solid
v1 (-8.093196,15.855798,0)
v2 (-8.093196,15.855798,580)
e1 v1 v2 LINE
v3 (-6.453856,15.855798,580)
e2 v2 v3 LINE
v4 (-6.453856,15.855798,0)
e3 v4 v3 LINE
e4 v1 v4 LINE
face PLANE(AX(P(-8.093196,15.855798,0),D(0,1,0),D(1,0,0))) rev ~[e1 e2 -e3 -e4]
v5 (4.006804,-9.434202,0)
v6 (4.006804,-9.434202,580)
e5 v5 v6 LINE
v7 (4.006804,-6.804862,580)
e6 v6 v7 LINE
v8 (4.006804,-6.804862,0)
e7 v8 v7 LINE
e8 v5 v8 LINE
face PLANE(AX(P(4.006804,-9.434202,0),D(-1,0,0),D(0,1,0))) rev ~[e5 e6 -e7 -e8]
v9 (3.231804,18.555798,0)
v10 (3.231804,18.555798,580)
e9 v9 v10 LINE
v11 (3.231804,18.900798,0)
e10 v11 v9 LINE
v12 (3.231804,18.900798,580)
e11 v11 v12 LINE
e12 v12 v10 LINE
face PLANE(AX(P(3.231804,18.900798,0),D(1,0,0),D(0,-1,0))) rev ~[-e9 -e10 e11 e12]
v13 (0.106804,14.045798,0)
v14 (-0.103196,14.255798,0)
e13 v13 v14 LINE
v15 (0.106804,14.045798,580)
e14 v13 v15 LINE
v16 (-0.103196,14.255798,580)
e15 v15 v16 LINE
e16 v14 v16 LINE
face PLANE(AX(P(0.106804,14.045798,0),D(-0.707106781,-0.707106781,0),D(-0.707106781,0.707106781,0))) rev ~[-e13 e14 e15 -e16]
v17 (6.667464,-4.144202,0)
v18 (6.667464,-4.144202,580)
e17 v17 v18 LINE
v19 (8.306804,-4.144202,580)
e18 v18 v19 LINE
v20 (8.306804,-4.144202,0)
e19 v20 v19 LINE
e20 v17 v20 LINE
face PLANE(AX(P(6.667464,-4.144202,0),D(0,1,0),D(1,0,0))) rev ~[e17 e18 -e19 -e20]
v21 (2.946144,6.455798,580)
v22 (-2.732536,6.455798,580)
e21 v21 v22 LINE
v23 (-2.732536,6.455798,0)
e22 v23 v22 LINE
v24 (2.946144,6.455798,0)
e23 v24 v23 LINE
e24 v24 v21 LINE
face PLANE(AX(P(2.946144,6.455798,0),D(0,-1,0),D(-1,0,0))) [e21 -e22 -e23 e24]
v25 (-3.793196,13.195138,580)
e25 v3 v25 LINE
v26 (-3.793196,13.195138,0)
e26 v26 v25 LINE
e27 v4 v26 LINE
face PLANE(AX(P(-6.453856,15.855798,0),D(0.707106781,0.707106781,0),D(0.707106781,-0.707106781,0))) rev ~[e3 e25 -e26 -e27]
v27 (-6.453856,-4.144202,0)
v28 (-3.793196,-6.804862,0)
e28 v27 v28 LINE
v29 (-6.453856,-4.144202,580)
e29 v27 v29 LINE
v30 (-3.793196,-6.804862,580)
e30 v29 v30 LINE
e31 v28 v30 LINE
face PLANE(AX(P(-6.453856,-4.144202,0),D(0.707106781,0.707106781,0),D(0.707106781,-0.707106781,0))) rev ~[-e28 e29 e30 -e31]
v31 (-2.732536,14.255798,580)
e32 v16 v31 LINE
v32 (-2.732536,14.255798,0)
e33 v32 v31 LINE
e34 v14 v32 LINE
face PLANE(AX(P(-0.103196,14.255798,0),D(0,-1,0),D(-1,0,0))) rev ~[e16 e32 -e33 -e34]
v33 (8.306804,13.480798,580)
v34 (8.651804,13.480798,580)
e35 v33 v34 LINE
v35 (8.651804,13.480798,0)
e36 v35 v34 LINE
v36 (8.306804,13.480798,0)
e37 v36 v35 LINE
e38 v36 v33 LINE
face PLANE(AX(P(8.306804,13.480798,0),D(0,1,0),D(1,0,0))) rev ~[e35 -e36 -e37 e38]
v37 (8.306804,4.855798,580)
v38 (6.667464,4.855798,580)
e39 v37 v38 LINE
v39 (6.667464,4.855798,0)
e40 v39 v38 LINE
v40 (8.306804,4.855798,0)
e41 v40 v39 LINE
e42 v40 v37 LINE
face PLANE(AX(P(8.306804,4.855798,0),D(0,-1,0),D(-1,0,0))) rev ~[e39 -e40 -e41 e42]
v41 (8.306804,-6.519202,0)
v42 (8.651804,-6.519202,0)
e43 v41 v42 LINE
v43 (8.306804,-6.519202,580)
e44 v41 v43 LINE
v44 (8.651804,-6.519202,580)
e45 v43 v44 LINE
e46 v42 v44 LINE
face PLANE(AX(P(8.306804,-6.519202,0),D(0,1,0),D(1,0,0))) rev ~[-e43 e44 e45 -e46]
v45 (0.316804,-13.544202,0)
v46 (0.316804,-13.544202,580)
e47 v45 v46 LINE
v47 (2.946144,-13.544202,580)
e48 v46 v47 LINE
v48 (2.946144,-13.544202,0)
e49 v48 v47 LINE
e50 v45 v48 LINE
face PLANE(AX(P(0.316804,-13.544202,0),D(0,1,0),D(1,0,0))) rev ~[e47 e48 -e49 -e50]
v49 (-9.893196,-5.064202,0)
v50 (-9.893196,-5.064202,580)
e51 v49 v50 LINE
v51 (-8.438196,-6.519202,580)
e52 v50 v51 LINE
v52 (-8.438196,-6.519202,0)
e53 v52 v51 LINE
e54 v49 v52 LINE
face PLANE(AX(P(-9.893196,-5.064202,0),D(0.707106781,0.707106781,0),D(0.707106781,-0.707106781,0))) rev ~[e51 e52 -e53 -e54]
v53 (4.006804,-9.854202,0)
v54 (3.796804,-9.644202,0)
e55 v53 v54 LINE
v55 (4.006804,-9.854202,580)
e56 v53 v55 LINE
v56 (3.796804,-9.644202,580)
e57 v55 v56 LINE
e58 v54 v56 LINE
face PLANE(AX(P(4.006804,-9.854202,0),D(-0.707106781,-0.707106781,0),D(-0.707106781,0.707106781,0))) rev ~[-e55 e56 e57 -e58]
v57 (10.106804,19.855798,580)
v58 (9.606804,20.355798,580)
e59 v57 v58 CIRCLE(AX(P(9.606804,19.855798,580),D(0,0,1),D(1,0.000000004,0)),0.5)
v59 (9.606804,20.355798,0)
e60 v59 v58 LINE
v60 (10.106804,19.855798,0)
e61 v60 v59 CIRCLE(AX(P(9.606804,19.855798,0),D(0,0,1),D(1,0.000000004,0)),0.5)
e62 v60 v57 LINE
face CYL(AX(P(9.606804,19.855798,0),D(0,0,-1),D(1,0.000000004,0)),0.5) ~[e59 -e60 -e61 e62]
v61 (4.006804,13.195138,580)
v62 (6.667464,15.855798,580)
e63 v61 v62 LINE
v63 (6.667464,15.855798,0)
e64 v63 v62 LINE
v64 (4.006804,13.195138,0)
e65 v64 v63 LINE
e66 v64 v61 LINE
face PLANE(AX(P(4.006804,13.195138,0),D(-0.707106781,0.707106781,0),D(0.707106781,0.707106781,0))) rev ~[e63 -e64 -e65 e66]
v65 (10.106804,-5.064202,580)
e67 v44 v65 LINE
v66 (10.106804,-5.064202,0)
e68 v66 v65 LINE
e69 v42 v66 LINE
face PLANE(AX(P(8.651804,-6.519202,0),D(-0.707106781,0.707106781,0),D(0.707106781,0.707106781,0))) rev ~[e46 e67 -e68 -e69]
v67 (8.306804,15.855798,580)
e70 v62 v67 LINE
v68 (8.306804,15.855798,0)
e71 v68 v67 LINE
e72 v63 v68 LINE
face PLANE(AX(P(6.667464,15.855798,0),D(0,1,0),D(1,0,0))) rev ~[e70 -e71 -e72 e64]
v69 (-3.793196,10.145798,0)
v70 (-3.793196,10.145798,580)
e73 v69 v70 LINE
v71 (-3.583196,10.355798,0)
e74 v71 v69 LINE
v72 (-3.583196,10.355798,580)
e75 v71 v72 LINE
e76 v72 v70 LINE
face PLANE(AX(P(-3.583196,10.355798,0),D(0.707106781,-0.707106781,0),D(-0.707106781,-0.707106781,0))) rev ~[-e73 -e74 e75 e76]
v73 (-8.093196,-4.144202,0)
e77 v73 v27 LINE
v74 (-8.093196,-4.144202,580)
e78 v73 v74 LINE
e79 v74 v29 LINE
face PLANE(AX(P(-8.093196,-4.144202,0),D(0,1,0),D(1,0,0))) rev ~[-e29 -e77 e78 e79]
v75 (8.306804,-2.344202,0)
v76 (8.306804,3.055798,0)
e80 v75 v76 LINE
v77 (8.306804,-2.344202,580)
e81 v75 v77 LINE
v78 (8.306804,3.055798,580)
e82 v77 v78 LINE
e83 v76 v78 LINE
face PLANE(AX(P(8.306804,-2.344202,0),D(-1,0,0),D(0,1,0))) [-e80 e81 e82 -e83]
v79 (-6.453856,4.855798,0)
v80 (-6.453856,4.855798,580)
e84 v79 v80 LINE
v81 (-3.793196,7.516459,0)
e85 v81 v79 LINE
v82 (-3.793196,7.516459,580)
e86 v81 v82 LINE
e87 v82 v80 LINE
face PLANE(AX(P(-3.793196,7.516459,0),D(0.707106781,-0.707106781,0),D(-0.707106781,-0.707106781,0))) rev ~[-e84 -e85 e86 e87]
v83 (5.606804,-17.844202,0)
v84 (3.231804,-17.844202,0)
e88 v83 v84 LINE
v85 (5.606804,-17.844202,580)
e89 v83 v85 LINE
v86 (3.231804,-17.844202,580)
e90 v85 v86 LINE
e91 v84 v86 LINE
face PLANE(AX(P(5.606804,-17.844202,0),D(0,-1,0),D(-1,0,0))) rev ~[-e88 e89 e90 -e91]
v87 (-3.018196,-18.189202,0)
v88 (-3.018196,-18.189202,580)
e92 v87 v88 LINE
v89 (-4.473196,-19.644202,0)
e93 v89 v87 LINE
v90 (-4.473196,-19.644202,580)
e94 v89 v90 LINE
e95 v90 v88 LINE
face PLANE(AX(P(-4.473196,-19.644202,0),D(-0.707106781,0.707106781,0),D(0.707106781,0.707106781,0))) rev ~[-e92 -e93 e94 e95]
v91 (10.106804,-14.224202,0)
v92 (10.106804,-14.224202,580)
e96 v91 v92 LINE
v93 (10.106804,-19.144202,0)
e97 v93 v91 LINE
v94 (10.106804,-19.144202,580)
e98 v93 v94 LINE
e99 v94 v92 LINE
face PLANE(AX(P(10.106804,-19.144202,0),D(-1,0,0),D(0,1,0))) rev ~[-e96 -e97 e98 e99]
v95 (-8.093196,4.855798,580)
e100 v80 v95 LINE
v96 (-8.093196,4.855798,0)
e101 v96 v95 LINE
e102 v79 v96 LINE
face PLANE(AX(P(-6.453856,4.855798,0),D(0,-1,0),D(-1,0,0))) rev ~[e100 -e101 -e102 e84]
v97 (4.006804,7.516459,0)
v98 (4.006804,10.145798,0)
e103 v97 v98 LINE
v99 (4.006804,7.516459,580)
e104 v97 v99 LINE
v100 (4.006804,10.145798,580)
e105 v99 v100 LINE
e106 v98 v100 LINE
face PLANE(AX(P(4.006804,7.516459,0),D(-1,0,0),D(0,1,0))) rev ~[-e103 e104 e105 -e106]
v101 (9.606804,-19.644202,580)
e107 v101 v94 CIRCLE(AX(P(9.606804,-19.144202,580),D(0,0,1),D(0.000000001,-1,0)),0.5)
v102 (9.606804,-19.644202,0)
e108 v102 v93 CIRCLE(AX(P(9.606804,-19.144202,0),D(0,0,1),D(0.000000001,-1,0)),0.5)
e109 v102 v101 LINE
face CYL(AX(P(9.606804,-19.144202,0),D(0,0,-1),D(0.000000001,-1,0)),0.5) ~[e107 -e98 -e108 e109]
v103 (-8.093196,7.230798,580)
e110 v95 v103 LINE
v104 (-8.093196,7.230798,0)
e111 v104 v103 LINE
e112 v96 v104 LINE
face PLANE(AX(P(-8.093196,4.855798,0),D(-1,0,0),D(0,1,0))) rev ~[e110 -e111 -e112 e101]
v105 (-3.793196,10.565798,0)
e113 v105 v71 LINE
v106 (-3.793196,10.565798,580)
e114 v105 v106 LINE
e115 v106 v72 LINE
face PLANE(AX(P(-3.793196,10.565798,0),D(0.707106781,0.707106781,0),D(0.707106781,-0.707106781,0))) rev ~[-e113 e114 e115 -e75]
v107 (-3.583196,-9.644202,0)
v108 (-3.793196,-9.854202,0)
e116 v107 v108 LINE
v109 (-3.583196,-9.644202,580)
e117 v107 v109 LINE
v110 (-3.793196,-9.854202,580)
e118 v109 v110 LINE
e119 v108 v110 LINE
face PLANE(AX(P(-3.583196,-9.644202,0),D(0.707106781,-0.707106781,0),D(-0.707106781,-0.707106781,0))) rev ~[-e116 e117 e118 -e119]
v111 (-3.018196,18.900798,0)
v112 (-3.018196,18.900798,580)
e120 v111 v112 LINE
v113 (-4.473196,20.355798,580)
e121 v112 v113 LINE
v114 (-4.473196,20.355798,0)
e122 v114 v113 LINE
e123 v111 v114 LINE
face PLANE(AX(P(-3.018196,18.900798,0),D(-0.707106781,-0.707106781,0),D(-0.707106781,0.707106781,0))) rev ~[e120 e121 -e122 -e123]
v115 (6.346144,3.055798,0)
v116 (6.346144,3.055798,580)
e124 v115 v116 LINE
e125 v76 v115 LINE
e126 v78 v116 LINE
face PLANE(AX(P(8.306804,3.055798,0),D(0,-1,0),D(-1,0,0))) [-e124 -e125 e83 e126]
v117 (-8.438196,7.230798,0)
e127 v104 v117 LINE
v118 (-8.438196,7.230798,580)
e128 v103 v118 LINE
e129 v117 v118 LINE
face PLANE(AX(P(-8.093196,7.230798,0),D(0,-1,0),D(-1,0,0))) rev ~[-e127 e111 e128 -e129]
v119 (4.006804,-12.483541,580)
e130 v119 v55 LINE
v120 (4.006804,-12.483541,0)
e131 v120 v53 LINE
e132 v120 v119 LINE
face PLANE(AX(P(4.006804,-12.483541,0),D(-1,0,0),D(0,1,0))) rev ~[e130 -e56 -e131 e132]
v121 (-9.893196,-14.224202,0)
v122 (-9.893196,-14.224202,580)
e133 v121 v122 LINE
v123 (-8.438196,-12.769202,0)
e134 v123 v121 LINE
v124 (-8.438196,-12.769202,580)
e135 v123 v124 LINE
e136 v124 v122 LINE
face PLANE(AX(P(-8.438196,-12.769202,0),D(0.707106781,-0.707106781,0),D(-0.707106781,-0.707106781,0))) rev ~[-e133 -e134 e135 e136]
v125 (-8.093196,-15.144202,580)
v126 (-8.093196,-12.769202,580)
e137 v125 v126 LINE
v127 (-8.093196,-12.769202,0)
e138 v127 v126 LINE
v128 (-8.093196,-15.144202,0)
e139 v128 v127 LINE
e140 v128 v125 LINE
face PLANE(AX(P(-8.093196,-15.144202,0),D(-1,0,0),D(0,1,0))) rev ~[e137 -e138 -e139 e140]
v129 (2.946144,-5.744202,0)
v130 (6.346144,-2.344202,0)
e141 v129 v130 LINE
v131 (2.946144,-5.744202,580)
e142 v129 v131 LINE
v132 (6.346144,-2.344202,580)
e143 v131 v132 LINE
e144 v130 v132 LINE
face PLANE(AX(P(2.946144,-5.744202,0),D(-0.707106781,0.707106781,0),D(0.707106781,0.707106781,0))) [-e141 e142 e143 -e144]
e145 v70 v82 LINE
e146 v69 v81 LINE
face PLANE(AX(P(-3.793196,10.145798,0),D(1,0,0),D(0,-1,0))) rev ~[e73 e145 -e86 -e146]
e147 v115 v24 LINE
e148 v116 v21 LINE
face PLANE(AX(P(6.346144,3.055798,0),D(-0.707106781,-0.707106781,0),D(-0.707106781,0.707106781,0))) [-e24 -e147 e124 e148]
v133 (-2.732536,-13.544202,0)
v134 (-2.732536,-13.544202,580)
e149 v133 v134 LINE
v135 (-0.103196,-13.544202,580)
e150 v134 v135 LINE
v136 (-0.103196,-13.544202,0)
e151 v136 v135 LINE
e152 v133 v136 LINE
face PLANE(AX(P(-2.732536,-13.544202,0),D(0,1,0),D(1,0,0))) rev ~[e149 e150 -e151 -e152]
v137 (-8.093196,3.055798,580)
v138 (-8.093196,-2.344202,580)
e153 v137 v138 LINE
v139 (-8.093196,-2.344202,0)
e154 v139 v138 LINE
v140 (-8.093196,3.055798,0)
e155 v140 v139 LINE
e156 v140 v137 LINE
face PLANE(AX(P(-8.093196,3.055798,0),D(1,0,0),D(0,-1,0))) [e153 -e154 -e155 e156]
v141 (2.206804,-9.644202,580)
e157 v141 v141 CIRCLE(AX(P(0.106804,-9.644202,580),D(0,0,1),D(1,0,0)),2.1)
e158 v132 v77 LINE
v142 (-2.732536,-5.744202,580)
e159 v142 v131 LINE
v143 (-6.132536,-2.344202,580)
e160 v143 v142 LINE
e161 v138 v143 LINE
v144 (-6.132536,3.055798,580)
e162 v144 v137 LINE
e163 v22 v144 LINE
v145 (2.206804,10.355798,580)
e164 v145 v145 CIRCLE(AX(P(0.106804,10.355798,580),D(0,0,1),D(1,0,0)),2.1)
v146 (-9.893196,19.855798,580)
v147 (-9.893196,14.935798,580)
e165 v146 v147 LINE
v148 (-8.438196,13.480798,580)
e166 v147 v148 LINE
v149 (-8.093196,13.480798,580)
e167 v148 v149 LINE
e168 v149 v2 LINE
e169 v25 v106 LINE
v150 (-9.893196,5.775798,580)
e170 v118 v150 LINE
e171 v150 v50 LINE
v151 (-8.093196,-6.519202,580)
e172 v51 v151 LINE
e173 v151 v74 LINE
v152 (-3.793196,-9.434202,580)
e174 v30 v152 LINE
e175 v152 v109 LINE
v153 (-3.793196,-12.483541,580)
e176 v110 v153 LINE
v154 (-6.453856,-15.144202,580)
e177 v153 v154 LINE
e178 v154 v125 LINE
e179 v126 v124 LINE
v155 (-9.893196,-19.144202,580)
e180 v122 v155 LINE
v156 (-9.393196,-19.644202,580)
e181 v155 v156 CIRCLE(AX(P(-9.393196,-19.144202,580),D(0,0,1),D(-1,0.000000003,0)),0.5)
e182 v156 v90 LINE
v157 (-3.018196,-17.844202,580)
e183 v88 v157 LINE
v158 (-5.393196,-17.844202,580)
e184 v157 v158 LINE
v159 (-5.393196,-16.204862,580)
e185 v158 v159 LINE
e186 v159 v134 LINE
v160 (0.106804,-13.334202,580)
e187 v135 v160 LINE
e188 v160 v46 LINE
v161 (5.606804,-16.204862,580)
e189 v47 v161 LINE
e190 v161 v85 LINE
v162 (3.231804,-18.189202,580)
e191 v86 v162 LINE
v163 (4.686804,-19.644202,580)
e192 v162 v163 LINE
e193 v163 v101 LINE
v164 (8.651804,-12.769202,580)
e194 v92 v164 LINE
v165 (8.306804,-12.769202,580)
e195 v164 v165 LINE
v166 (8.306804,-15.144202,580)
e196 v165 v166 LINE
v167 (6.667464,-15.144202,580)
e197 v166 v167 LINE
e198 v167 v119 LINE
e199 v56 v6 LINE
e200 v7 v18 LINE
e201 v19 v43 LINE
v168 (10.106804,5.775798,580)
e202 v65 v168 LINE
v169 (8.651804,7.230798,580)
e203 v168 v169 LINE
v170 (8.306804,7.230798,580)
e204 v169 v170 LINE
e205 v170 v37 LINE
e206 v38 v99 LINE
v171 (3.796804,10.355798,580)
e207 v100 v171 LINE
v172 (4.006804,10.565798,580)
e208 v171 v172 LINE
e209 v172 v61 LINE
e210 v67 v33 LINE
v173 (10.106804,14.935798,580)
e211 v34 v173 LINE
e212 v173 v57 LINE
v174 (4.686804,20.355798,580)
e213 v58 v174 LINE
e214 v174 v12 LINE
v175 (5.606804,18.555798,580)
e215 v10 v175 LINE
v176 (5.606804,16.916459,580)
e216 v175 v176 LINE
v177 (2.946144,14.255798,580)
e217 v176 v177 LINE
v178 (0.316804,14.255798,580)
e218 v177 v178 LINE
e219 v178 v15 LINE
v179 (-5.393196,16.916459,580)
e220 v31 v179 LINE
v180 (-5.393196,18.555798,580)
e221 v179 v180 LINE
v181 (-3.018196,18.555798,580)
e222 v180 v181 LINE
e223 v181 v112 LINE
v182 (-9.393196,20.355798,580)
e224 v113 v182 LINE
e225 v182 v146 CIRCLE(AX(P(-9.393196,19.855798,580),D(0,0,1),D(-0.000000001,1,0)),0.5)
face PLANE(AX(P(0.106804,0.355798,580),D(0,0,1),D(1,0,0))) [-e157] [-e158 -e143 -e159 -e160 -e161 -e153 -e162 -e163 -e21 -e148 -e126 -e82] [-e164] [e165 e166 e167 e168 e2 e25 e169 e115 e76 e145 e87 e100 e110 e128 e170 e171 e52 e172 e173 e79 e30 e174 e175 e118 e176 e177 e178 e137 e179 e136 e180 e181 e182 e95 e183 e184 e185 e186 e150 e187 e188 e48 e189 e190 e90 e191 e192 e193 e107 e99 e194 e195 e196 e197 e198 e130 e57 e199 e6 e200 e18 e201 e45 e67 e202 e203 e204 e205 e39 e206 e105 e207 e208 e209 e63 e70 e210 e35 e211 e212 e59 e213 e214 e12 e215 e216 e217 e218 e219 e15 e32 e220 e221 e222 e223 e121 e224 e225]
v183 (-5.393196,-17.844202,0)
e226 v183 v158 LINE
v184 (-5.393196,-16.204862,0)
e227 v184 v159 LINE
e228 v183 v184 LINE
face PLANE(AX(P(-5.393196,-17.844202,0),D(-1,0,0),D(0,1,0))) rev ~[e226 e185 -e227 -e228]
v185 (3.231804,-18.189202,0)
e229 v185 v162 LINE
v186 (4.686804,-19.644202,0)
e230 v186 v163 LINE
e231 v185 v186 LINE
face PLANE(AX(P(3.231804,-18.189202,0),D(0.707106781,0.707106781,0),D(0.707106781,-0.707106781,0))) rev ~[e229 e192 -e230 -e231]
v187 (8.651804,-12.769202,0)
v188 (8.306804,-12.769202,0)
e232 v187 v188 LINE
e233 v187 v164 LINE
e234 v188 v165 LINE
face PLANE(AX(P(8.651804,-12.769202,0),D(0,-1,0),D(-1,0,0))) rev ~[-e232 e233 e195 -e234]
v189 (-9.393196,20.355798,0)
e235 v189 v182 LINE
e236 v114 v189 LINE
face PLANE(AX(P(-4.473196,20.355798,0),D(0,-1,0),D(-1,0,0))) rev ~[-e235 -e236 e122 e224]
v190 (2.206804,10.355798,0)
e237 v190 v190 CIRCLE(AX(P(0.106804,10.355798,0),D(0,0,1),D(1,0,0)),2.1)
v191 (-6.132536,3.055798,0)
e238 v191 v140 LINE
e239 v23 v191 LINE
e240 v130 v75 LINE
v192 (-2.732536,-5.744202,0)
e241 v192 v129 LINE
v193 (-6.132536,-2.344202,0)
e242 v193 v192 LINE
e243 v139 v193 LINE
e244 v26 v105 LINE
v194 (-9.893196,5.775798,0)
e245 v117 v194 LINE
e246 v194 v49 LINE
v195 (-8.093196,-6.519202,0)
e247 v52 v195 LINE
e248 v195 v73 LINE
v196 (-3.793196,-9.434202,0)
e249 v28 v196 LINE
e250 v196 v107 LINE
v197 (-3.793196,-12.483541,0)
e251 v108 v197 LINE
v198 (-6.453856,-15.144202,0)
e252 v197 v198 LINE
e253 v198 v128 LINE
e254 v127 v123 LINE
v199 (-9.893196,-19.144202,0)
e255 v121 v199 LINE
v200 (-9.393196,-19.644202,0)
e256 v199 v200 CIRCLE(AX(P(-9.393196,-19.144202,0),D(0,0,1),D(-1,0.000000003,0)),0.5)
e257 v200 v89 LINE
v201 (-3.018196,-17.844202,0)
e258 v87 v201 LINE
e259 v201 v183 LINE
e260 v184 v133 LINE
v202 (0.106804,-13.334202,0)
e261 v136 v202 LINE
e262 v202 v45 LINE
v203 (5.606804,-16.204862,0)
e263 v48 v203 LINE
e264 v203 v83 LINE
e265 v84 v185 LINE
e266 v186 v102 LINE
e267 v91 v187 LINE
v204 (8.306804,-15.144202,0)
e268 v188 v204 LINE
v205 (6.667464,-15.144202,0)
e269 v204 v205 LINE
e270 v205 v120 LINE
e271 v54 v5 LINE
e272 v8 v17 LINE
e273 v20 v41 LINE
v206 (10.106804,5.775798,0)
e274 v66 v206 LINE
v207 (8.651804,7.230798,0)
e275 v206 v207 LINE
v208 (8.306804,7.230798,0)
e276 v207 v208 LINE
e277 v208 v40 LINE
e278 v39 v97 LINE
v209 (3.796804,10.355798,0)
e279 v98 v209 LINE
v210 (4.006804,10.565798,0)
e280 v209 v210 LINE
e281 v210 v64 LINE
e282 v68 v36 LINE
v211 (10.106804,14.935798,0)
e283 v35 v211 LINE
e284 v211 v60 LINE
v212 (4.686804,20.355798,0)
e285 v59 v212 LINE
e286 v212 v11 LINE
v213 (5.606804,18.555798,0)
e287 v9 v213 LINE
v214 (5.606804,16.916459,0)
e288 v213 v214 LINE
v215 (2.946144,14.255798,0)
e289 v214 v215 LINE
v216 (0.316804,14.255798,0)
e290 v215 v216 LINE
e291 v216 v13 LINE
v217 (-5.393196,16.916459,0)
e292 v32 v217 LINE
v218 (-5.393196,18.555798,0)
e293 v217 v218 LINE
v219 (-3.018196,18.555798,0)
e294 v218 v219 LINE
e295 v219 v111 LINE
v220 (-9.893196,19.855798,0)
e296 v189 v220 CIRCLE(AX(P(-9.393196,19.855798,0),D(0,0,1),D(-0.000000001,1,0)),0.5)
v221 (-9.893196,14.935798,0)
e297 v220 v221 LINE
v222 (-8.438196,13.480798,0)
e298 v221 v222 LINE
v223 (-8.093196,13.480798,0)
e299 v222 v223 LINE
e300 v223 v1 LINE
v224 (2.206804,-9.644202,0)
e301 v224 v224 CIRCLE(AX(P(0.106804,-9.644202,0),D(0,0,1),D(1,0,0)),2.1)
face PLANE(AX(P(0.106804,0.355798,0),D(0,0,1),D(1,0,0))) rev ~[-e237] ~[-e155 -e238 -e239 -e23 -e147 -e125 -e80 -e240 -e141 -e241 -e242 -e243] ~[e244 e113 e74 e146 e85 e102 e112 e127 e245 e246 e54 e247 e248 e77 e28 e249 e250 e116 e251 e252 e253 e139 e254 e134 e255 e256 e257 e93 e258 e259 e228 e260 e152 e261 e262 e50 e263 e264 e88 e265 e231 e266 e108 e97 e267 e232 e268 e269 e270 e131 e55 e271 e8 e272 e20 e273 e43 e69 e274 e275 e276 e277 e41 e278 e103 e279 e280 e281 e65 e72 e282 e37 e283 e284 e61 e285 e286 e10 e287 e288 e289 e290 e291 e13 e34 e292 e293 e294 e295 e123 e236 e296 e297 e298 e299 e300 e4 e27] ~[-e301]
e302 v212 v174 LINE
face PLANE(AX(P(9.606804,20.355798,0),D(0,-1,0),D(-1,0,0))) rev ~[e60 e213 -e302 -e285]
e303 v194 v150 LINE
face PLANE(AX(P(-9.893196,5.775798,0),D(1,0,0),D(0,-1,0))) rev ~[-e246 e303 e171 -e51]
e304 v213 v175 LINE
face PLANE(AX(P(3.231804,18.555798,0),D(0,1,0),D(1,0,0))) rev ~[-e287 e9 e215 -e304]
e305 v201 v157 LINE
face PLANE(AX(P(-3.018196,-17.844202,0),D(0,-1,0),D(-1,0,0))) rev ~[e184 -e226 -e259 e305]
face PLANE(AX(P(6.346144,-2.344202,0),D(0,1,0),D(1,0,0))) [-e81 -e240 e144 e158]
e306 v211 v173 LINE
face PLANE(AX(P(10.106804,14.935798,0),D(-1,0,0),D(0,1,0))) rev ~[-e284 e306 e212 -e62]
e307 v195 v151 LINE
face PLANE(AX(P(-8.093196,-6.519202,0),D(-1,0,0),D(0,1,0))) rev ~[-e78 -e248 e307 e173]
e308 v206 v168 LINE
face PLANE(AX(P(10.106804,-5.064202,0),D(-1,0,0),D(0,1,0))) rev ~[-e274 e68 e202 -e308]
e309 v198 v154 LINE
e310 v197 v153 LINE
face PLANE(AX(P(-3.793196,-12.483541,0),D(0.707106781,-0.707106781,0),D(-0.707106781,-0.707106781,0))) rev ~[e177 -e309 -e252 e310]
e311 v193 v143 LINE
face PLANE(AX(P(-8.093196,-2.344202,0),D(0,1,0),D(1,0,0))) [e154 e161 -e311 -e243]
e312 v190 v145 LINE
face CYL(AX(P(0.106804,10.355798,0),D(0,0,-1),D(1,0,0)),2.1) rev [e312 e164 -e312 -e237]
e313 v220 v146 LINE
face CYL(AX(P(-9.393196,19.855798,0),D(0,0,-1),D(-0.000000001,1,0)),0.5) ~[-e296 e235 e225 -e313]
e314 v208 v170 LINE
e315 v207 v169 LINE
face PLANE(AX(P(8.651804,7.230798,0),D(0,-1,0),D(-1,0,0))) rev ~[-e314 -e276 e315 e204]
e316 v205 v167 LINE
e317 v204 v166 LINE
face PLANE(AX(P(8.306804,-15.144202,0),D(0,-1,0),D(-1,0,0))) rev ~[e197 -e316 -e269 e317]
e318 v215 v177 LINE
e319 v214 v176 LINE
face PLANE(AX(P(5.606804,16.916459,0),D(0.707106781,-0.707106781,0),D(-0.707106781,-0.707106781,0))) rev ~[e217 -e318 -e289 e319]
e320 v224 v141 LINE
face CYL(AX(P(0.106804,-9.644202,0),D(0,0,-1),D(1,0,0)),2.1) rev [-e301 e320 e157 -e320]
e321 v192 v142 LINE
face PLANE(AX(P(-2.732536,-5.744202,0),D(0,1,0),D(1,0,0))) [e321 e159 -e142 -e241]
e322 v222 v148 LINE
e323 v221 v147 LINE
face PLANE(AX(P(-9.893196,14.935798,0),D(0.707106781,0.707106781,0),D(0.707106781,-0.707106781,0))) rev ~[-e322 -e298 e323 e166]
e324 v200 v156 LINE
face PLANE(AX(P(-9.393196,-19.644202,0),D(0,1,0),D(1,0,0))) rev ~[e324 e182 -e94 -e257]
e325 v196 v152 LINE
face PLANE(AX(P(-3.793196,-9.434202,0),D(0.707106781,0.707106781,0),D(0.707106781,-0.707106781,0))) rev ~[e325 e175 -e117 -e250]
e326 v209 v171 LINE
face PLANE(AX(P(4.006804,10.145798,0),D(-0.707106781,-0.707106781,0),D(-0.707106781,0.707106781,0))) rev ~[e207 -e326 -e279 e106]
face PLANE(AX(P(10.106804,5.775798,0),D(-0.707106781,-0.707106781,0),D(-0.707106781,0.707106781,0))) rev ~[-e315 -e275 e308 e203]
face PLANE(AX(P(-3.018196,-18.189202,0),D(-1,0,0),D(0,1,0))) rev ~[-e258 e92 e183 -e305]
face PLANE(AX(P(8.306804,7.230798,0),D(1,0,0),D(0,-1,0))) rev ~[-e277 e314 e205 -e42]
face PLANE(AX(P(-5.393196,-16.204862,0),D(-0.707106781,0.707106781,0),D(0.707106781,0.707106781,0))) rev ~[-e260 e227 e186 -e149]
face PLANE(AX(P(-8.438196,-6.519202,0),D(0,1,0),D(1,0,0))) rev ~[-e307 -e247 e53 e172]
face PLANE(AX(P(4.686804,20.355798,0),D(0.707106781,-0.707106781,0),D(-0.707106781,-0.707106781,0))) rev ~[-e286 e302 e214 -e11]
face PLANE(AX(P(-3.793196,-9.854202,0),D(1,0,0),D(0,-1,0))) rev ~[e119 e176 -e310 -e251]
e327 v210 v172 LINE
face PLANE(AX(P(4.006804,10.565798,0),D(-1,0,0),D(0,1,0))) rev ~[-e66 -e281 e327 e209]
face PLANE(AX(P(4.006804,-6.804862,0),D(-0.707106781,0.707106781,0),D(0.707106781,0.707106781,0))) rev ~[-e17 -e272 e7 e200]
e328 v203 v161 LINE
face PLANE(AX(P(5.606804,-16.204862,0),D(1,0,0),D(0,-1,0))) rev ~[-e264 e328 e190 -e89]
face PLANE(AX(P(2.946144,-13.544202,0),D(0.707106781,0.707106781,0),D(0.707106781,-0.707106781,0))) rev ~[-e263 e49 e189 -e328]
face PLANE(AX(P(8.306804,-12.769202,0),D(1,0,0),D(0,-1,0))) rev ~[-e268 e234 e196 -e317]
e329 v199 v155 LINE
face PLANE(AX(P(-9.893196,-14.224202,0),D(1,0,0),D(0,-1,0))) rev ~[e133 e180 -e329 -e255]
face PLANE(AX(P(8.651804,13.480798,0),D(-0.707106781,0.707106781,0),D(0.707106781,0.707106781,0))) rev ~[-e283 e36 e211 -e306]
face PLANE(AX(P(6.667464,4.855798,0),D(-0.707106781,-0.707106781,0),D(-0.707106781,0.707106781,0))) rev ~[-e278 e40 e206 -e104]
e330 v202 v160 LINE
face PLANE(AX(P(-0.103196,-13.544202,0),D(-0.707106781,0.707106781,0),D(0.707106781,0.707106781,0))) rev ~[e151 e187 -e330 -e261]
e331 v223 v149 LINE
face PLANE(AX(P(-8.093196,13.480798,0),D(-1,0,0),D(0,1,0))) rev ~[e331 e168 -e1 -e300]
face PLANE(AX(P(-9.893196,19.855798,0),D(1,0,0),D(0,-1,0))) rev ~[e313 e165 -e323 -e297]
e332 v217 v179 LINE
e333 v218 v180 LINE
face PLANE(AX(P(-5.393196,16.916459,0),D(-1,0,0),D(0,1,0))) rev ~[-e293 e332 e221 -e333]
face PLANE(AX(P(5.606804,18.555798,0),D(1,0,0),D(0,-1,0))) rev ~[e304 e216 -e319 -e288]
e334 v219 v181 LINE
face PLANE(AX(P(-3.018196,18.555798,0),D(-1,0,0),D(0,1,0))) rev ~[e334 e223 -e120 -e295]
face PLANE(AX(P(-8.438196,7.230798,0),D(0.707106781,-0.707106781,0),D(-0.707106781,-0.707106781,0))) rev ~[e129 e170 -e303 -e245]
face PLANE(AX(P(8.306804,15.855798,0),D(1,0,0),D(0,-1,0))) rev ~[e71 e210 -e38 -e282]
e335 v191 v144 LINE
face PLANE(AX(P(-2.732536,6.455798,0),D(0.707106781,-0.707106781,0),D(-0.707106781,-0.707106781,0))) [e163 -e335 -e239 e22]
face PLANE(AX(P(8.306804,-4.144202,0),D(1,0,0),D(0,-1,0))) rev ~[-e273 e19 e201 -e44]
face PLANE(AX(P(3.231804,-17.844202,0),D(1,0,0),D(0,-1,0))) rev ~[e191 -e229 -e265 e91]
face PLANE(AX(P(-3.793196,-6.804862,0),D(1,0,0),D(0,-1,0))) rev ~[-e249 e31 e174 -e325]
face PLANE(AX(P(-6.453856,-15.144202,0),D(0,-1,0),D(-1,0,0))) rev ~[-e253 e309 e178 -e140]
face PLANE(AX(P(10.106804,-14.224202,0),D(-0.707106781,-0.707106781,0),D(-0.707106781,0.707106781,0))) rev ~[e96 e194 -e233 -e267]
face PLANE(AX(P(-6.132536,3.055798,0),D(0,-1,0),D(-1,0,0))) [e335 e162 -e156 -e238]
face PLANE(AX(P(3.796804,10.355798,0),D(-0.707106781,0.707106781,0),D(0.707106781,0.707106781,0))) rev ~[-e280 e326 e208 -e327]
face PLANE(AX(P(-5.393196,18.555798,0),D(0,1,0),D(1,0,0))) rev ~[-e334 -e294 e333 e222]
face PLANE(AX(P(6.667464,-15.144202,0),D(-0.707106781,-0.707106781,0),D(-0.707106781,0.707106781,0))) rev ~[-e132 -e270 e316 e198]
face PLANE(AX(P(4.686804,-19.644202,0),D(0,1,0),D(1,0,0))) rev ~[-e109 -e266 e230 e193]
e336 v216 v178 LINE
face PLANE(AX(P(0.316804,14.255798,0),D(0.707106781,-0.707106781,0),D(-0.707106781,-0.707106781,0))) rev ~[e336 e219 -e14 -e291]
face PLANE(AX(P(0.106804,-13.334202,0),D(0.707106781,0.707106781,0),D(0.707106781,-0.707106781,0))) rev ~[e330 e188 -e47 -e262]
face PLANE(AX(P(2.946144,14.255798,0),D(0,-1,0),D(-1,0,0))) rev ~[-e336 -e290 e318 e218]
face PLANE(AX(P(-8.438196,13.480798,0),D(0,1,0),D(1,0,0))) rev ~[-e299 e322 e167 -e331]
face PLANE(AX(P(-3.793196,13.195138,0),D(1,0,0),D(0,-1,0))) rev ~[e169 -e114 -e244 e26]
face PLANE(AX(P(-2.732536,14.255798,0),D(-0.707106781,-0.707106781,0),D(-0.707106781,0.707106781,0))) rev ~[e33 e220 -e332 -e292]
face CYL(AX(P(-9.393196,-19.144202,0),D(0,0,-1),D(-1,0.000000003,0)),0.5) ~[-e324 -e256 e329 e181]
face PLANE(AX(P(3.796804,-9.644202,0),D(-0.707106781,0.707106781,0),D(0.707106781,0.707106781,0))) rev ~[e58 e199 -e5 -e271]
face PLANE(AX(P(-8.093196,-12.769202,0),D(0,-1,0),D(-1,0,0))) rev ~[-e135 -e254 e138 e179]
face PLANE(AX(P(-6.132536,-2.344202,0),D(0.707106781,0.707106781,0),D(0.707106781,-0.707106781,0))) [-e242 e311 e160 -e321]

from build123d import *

# Parameters (mm, degrees)
SKETCH2_R           = 2.1
BOSS_EXTRUDE1_DEPTH = 580


with BuildPart() as part:
    # Sketch2 → Boss-Extrude1 (new body)
    with BuildSketch(Plane.XY):
        with BuildLine():
            Line((4.006804208, 10.145798499), (3.796804208, 10.355798499))
            Line((3.796804208, 10.355798499), (4.006804208, 10.565798499))
            Line((4.006804208, 10.565798499), (4.006804208, 13.195138327))
            Line((4.006804208, 13.195138327), (6.66746438, 15.855798499))
            Line((6.66746438, 15.855798499), (8.306804208, 15.855798499))
            Line((8.306804208, 15.855798499), (8.306804208, 13.480798499))
            Line((8.306804208, 13.480798499), (8.651804208, 13.480798499))
            Line((8.651804208, 13.480798499), (10.106804208, 14.935798499))
            Line((10.106804208, 14.935798499), (10.106804208, 19.855798499))
            ThreePointArc((10.106804208, 19.855798499), (9.960357598, 20.209351889), (9.606804208, 20.355798499))
            Line((9.606804208, 20.355798499), (4.686804208, 20.355798499))
            Line((4.686804208, 20.355798499), (3.231804208, 18.900798499))
            Line((3.231804208, 18.900798499), (3.231804208, 18.555798499))
            Line((3.231804208, 18.555798499), (5.606804208, 18.555798499))
            Line((5.606804208, 18.555798499), (5.606804208, 16.91645867))
            Line((5.606804208, 16.91645867), (2.946144036, 14.255798499))
            Line((2.946144036, 14.255798499), (0.316804208, 14.255798499))
            Line((0.316804208, 14.255798499), (0.106804208, 14.045798499))
            Line((0.106804208, 14.045798499), (-0.103195792, 14.255798499))
            Line((-0.103195792, 14.255798499), (-2.73253562, 14.255798499))
            Line((-2.73253562, 14.255798499), (-5.393195792, 16.91645867))
            Line((-5.393195792, 16.91645867), (-5.393195792, 18.555798499))
            Line((-5.393195792, 18.555798499), (-3.018195792, 18.555798499))
            Line((-3.018195792, 18.555798499), (-3.018195792, 18.900798499))
            Line((-3.018195792, 18.900798499), (-4.473195792, 20.355798499))
            Line((-4.473195792, 20.355798499), (-9.393195792, 20.355798499))
            ThreePointArc((-9.393195792, 20.355798499), (-9.746749183, 20.209351889), (-9.893195792, 19.855798499))
            Line((-9.893195792, 19.855798499), (-9.893195792, 14.935798499))
            Line((-9.893195792, 14.935798499), (-8.438195792, 13.480798499))
            Line((-8.438195792, 13.480798499), (-8.093195792, 13.480798499))
            Line((-8.093195792, 13.480798499), (-8.093195792, 15.855798499))
            Line((-8.093195792, 15.855798499), (-6.453855964, 15.855798499))
            Line((-6.453855964, 15.855798499), (-3.793195792, 13.195138327))
            Line((-3.793195792, 13.195138327), (-3.793195792, 10.565798499))
            Line((-3.793195792, 10.565798499), (-3.583195792, 10.355798499))
            Line((-3.583195792, 10.355798499), (-3.793195792, 10.145798499))
            Line((-3.793195792, 10.145798499), (-3.793195792, 7.51645867))
            Line((-3.793195792, 7.51645867), (-6.453855964, 4.855798499))
            Line((-6.453855964, 4.855798499), (-8.093195792, 4.855798499))
            Line((-8.093195792, 4.855798499), (-8.093195792, 7.230798499))
            Line((-8.093195792, 7.230798499), (-8.438195792, 7.230798499))
            Line((-8.438195792, 7.230798499), (-9.893195792, 5.775798499))
            Line((-9.893195792, 5.775798499), (-9.893195792, -5.064201501))
            Line((-9.893195792, -5.064201501), (-8.438195792, -6.519201501))
            Line((-8.438195792, -6.519201501), (-8.093195792, -6.519201501))
            Line((-8.093195792, -6.519201501), (-8.093195792, -4.144201501))
            Line((-8.093195792, -4.144201501), (-6.453855964, -4.144201501))
            Line((-6.453855964, -4.144201501), (-3.793195792, -6.804861673))
            Line((-3.793195792, -6.804861673), (-3.793195792, -9.434201501))
            Line((-3.793195792, -9.434201501), (-3.583195792, -9.644201501))
            Line((-3.583195792, -9.644201501), (-3.793195792, -9.854201501))
            Line((-3.793195792, -9.854201501), (-3.793195792, -12.48354133))
            Line((-3.793195792, -12.48354133), (-6.453855964, -15.144201501))
            Line((-6.453855964, -15.144201501), (-8.093195792, -15.144201501))
            Line((-8.093195792, -15.144201501), (-8.093195792, -12.769201501))
            Line((-8.093195792, -12.769201501), (-8.438195792, -12.769201501))
            Line((-8.438195792, -12.769201501), (-9.893195792, -14.224201501))
            Line((-9.893195792, -14.224201501), (-9.893195792, -19.144201501))
            ThreePointArc((-9.893195792, -19.144201501), (-9.746749183, -19.497754892), (-9.393195792, -19.644201501))
            Line((-9.393195792, -19.644201501), (-4.473195792, -19.644201501))
            Line((-4.473195792, -19.644201501), (-3.018195792, -18.189201501))
            Line((-3.018195792, -18.189201501), (-3.018195792, -17.844201501))
            Line((-3.018195792, -17.844201501), (-5.393195792, -17.844201501))
            Line((-5.393195792, -17.844201501), (-5.393195792, -16.204861673))
            Line((-5.393195792, -16.204861673), (-2.73253562, -13.544201501))
            Line((-2.73253562, -13.544201501), (-0.103195792, -13.544201501))
            Line((-0.103195792, -13.544201501), (0.106804208, -13.334201501))
            Line((0.106804208, -13.334201501), (0.316804208, -13.544201501))
            Line((0.316804208, -13.544201501), (2.946144036, -13.544201501))
            Line((2.946144036, -13.544201501), (5.606804208, -16.204861673))
            Line((5.606804208, -16.204861673), (5.606804208, -17.844201501))
            Line((5.606804208, -17.844201501), (3.231804208, -17.844201501))
            Line((3.231804208, -17.844201501), (3.231804208, -18.189201501))
            Line((3.231804208, -18.189201501), (4.686804208, -19.644201501))
            Line((4.686804208, -19.644201501), (9.606804208, -19.644201501))
            ThreePointArc((9.606804208, -19.644201501), (9.960357598, -19.497754892), (10.106804208, -19.144201501))
            Line((10.106804208, -19.144201501), (10.106804208, -14.224201501))
            Line((10.106804208, -14.224201501), (8.651804208, -12.769201501))
            Line((8.651804208, -12.769201501), (8.306804208, -12.769201501))
            Line((8.306804208, -12.769201501), (8.306804208, -15.144201501))
            Line((8.306804208, -15.144201501), (6.66746438, -15.144201501))
            Line((6.66746438, -15.144201501), (4.006804208, -12.48354133))
            Line((4.006804208, -12.48354133), (4.006804208, -9.854201501))
            Line((4.006804208, -9.854201501), (3.796804208, -9.644201501))
            Line((3.796804208, -9.644201501), (4.006804208, -9.434201501))
            Line((4.006804208, -9.434201501), (4.006804208, -6.804861673))
            Line((4.006804208, -6.804861673), (6.66746438, -4.144201501))
            Line((6.66746438, -4.144201501), (8.306804208, -4.144201501))
            Line((8.306804208, -4.144201501), (8.306804208, -6.519201501))
            Line((8.306804208, -6.519201501), (8.651804208, -6.519201501))
            Line((8.651804208, -6.519201501), (10.106804208, -5.064201501))
            Line((10.106804208, -5.064201501), (10.106804208, 5.775798499))
            Line((10.106804208, 5.775798499), (8.651804208, 7.230798499))
            Line((8.651804208, 7.230798499), (8.306804208, 7.230798499))
            Line((8.306804208, 7.230798499), (8.306804208, 4.855798499))
            Line((8.306804208, 4.855798499), (6.66746438, 4.855798499))
            Line((6.66746438, 4.855798499), (4.006804208, 7.51645867))
            Line((4.006804208, 7.51645867), (4.006804208, 10.145798499))
        make_face()
        with Locations((0.106804208, -9.644201501)):
            Circle(SKETCH2_R, mode=Mode.SUBTRACT)
        with Locations((0.106804208, 10.355798499)):
            Circle(SKETCH2_R, mode=Mode.SUBTRACT)
        Polygon((-6.13253562, -2.344201501), (-2.73253562, -5.744201501), (2.946144036, -5.744201501), (6.346144036, -2.344201501), (8.306804208, -2.344201501), (8.306804208, 3.055798499), (6.346144036, 3.055798499), (2.946144036, 6.455798499), (-2.73253562, 6.455798499), (-6.13253562, 3.055798499), (-8.093195792, 3.055798499), (-8.093195792, -2.344201501), align=None, mode=Mode.SUBTRACT)
    extrude(amount=BOSS_EXTRUDE1_DEPTH)


solid = part.part
